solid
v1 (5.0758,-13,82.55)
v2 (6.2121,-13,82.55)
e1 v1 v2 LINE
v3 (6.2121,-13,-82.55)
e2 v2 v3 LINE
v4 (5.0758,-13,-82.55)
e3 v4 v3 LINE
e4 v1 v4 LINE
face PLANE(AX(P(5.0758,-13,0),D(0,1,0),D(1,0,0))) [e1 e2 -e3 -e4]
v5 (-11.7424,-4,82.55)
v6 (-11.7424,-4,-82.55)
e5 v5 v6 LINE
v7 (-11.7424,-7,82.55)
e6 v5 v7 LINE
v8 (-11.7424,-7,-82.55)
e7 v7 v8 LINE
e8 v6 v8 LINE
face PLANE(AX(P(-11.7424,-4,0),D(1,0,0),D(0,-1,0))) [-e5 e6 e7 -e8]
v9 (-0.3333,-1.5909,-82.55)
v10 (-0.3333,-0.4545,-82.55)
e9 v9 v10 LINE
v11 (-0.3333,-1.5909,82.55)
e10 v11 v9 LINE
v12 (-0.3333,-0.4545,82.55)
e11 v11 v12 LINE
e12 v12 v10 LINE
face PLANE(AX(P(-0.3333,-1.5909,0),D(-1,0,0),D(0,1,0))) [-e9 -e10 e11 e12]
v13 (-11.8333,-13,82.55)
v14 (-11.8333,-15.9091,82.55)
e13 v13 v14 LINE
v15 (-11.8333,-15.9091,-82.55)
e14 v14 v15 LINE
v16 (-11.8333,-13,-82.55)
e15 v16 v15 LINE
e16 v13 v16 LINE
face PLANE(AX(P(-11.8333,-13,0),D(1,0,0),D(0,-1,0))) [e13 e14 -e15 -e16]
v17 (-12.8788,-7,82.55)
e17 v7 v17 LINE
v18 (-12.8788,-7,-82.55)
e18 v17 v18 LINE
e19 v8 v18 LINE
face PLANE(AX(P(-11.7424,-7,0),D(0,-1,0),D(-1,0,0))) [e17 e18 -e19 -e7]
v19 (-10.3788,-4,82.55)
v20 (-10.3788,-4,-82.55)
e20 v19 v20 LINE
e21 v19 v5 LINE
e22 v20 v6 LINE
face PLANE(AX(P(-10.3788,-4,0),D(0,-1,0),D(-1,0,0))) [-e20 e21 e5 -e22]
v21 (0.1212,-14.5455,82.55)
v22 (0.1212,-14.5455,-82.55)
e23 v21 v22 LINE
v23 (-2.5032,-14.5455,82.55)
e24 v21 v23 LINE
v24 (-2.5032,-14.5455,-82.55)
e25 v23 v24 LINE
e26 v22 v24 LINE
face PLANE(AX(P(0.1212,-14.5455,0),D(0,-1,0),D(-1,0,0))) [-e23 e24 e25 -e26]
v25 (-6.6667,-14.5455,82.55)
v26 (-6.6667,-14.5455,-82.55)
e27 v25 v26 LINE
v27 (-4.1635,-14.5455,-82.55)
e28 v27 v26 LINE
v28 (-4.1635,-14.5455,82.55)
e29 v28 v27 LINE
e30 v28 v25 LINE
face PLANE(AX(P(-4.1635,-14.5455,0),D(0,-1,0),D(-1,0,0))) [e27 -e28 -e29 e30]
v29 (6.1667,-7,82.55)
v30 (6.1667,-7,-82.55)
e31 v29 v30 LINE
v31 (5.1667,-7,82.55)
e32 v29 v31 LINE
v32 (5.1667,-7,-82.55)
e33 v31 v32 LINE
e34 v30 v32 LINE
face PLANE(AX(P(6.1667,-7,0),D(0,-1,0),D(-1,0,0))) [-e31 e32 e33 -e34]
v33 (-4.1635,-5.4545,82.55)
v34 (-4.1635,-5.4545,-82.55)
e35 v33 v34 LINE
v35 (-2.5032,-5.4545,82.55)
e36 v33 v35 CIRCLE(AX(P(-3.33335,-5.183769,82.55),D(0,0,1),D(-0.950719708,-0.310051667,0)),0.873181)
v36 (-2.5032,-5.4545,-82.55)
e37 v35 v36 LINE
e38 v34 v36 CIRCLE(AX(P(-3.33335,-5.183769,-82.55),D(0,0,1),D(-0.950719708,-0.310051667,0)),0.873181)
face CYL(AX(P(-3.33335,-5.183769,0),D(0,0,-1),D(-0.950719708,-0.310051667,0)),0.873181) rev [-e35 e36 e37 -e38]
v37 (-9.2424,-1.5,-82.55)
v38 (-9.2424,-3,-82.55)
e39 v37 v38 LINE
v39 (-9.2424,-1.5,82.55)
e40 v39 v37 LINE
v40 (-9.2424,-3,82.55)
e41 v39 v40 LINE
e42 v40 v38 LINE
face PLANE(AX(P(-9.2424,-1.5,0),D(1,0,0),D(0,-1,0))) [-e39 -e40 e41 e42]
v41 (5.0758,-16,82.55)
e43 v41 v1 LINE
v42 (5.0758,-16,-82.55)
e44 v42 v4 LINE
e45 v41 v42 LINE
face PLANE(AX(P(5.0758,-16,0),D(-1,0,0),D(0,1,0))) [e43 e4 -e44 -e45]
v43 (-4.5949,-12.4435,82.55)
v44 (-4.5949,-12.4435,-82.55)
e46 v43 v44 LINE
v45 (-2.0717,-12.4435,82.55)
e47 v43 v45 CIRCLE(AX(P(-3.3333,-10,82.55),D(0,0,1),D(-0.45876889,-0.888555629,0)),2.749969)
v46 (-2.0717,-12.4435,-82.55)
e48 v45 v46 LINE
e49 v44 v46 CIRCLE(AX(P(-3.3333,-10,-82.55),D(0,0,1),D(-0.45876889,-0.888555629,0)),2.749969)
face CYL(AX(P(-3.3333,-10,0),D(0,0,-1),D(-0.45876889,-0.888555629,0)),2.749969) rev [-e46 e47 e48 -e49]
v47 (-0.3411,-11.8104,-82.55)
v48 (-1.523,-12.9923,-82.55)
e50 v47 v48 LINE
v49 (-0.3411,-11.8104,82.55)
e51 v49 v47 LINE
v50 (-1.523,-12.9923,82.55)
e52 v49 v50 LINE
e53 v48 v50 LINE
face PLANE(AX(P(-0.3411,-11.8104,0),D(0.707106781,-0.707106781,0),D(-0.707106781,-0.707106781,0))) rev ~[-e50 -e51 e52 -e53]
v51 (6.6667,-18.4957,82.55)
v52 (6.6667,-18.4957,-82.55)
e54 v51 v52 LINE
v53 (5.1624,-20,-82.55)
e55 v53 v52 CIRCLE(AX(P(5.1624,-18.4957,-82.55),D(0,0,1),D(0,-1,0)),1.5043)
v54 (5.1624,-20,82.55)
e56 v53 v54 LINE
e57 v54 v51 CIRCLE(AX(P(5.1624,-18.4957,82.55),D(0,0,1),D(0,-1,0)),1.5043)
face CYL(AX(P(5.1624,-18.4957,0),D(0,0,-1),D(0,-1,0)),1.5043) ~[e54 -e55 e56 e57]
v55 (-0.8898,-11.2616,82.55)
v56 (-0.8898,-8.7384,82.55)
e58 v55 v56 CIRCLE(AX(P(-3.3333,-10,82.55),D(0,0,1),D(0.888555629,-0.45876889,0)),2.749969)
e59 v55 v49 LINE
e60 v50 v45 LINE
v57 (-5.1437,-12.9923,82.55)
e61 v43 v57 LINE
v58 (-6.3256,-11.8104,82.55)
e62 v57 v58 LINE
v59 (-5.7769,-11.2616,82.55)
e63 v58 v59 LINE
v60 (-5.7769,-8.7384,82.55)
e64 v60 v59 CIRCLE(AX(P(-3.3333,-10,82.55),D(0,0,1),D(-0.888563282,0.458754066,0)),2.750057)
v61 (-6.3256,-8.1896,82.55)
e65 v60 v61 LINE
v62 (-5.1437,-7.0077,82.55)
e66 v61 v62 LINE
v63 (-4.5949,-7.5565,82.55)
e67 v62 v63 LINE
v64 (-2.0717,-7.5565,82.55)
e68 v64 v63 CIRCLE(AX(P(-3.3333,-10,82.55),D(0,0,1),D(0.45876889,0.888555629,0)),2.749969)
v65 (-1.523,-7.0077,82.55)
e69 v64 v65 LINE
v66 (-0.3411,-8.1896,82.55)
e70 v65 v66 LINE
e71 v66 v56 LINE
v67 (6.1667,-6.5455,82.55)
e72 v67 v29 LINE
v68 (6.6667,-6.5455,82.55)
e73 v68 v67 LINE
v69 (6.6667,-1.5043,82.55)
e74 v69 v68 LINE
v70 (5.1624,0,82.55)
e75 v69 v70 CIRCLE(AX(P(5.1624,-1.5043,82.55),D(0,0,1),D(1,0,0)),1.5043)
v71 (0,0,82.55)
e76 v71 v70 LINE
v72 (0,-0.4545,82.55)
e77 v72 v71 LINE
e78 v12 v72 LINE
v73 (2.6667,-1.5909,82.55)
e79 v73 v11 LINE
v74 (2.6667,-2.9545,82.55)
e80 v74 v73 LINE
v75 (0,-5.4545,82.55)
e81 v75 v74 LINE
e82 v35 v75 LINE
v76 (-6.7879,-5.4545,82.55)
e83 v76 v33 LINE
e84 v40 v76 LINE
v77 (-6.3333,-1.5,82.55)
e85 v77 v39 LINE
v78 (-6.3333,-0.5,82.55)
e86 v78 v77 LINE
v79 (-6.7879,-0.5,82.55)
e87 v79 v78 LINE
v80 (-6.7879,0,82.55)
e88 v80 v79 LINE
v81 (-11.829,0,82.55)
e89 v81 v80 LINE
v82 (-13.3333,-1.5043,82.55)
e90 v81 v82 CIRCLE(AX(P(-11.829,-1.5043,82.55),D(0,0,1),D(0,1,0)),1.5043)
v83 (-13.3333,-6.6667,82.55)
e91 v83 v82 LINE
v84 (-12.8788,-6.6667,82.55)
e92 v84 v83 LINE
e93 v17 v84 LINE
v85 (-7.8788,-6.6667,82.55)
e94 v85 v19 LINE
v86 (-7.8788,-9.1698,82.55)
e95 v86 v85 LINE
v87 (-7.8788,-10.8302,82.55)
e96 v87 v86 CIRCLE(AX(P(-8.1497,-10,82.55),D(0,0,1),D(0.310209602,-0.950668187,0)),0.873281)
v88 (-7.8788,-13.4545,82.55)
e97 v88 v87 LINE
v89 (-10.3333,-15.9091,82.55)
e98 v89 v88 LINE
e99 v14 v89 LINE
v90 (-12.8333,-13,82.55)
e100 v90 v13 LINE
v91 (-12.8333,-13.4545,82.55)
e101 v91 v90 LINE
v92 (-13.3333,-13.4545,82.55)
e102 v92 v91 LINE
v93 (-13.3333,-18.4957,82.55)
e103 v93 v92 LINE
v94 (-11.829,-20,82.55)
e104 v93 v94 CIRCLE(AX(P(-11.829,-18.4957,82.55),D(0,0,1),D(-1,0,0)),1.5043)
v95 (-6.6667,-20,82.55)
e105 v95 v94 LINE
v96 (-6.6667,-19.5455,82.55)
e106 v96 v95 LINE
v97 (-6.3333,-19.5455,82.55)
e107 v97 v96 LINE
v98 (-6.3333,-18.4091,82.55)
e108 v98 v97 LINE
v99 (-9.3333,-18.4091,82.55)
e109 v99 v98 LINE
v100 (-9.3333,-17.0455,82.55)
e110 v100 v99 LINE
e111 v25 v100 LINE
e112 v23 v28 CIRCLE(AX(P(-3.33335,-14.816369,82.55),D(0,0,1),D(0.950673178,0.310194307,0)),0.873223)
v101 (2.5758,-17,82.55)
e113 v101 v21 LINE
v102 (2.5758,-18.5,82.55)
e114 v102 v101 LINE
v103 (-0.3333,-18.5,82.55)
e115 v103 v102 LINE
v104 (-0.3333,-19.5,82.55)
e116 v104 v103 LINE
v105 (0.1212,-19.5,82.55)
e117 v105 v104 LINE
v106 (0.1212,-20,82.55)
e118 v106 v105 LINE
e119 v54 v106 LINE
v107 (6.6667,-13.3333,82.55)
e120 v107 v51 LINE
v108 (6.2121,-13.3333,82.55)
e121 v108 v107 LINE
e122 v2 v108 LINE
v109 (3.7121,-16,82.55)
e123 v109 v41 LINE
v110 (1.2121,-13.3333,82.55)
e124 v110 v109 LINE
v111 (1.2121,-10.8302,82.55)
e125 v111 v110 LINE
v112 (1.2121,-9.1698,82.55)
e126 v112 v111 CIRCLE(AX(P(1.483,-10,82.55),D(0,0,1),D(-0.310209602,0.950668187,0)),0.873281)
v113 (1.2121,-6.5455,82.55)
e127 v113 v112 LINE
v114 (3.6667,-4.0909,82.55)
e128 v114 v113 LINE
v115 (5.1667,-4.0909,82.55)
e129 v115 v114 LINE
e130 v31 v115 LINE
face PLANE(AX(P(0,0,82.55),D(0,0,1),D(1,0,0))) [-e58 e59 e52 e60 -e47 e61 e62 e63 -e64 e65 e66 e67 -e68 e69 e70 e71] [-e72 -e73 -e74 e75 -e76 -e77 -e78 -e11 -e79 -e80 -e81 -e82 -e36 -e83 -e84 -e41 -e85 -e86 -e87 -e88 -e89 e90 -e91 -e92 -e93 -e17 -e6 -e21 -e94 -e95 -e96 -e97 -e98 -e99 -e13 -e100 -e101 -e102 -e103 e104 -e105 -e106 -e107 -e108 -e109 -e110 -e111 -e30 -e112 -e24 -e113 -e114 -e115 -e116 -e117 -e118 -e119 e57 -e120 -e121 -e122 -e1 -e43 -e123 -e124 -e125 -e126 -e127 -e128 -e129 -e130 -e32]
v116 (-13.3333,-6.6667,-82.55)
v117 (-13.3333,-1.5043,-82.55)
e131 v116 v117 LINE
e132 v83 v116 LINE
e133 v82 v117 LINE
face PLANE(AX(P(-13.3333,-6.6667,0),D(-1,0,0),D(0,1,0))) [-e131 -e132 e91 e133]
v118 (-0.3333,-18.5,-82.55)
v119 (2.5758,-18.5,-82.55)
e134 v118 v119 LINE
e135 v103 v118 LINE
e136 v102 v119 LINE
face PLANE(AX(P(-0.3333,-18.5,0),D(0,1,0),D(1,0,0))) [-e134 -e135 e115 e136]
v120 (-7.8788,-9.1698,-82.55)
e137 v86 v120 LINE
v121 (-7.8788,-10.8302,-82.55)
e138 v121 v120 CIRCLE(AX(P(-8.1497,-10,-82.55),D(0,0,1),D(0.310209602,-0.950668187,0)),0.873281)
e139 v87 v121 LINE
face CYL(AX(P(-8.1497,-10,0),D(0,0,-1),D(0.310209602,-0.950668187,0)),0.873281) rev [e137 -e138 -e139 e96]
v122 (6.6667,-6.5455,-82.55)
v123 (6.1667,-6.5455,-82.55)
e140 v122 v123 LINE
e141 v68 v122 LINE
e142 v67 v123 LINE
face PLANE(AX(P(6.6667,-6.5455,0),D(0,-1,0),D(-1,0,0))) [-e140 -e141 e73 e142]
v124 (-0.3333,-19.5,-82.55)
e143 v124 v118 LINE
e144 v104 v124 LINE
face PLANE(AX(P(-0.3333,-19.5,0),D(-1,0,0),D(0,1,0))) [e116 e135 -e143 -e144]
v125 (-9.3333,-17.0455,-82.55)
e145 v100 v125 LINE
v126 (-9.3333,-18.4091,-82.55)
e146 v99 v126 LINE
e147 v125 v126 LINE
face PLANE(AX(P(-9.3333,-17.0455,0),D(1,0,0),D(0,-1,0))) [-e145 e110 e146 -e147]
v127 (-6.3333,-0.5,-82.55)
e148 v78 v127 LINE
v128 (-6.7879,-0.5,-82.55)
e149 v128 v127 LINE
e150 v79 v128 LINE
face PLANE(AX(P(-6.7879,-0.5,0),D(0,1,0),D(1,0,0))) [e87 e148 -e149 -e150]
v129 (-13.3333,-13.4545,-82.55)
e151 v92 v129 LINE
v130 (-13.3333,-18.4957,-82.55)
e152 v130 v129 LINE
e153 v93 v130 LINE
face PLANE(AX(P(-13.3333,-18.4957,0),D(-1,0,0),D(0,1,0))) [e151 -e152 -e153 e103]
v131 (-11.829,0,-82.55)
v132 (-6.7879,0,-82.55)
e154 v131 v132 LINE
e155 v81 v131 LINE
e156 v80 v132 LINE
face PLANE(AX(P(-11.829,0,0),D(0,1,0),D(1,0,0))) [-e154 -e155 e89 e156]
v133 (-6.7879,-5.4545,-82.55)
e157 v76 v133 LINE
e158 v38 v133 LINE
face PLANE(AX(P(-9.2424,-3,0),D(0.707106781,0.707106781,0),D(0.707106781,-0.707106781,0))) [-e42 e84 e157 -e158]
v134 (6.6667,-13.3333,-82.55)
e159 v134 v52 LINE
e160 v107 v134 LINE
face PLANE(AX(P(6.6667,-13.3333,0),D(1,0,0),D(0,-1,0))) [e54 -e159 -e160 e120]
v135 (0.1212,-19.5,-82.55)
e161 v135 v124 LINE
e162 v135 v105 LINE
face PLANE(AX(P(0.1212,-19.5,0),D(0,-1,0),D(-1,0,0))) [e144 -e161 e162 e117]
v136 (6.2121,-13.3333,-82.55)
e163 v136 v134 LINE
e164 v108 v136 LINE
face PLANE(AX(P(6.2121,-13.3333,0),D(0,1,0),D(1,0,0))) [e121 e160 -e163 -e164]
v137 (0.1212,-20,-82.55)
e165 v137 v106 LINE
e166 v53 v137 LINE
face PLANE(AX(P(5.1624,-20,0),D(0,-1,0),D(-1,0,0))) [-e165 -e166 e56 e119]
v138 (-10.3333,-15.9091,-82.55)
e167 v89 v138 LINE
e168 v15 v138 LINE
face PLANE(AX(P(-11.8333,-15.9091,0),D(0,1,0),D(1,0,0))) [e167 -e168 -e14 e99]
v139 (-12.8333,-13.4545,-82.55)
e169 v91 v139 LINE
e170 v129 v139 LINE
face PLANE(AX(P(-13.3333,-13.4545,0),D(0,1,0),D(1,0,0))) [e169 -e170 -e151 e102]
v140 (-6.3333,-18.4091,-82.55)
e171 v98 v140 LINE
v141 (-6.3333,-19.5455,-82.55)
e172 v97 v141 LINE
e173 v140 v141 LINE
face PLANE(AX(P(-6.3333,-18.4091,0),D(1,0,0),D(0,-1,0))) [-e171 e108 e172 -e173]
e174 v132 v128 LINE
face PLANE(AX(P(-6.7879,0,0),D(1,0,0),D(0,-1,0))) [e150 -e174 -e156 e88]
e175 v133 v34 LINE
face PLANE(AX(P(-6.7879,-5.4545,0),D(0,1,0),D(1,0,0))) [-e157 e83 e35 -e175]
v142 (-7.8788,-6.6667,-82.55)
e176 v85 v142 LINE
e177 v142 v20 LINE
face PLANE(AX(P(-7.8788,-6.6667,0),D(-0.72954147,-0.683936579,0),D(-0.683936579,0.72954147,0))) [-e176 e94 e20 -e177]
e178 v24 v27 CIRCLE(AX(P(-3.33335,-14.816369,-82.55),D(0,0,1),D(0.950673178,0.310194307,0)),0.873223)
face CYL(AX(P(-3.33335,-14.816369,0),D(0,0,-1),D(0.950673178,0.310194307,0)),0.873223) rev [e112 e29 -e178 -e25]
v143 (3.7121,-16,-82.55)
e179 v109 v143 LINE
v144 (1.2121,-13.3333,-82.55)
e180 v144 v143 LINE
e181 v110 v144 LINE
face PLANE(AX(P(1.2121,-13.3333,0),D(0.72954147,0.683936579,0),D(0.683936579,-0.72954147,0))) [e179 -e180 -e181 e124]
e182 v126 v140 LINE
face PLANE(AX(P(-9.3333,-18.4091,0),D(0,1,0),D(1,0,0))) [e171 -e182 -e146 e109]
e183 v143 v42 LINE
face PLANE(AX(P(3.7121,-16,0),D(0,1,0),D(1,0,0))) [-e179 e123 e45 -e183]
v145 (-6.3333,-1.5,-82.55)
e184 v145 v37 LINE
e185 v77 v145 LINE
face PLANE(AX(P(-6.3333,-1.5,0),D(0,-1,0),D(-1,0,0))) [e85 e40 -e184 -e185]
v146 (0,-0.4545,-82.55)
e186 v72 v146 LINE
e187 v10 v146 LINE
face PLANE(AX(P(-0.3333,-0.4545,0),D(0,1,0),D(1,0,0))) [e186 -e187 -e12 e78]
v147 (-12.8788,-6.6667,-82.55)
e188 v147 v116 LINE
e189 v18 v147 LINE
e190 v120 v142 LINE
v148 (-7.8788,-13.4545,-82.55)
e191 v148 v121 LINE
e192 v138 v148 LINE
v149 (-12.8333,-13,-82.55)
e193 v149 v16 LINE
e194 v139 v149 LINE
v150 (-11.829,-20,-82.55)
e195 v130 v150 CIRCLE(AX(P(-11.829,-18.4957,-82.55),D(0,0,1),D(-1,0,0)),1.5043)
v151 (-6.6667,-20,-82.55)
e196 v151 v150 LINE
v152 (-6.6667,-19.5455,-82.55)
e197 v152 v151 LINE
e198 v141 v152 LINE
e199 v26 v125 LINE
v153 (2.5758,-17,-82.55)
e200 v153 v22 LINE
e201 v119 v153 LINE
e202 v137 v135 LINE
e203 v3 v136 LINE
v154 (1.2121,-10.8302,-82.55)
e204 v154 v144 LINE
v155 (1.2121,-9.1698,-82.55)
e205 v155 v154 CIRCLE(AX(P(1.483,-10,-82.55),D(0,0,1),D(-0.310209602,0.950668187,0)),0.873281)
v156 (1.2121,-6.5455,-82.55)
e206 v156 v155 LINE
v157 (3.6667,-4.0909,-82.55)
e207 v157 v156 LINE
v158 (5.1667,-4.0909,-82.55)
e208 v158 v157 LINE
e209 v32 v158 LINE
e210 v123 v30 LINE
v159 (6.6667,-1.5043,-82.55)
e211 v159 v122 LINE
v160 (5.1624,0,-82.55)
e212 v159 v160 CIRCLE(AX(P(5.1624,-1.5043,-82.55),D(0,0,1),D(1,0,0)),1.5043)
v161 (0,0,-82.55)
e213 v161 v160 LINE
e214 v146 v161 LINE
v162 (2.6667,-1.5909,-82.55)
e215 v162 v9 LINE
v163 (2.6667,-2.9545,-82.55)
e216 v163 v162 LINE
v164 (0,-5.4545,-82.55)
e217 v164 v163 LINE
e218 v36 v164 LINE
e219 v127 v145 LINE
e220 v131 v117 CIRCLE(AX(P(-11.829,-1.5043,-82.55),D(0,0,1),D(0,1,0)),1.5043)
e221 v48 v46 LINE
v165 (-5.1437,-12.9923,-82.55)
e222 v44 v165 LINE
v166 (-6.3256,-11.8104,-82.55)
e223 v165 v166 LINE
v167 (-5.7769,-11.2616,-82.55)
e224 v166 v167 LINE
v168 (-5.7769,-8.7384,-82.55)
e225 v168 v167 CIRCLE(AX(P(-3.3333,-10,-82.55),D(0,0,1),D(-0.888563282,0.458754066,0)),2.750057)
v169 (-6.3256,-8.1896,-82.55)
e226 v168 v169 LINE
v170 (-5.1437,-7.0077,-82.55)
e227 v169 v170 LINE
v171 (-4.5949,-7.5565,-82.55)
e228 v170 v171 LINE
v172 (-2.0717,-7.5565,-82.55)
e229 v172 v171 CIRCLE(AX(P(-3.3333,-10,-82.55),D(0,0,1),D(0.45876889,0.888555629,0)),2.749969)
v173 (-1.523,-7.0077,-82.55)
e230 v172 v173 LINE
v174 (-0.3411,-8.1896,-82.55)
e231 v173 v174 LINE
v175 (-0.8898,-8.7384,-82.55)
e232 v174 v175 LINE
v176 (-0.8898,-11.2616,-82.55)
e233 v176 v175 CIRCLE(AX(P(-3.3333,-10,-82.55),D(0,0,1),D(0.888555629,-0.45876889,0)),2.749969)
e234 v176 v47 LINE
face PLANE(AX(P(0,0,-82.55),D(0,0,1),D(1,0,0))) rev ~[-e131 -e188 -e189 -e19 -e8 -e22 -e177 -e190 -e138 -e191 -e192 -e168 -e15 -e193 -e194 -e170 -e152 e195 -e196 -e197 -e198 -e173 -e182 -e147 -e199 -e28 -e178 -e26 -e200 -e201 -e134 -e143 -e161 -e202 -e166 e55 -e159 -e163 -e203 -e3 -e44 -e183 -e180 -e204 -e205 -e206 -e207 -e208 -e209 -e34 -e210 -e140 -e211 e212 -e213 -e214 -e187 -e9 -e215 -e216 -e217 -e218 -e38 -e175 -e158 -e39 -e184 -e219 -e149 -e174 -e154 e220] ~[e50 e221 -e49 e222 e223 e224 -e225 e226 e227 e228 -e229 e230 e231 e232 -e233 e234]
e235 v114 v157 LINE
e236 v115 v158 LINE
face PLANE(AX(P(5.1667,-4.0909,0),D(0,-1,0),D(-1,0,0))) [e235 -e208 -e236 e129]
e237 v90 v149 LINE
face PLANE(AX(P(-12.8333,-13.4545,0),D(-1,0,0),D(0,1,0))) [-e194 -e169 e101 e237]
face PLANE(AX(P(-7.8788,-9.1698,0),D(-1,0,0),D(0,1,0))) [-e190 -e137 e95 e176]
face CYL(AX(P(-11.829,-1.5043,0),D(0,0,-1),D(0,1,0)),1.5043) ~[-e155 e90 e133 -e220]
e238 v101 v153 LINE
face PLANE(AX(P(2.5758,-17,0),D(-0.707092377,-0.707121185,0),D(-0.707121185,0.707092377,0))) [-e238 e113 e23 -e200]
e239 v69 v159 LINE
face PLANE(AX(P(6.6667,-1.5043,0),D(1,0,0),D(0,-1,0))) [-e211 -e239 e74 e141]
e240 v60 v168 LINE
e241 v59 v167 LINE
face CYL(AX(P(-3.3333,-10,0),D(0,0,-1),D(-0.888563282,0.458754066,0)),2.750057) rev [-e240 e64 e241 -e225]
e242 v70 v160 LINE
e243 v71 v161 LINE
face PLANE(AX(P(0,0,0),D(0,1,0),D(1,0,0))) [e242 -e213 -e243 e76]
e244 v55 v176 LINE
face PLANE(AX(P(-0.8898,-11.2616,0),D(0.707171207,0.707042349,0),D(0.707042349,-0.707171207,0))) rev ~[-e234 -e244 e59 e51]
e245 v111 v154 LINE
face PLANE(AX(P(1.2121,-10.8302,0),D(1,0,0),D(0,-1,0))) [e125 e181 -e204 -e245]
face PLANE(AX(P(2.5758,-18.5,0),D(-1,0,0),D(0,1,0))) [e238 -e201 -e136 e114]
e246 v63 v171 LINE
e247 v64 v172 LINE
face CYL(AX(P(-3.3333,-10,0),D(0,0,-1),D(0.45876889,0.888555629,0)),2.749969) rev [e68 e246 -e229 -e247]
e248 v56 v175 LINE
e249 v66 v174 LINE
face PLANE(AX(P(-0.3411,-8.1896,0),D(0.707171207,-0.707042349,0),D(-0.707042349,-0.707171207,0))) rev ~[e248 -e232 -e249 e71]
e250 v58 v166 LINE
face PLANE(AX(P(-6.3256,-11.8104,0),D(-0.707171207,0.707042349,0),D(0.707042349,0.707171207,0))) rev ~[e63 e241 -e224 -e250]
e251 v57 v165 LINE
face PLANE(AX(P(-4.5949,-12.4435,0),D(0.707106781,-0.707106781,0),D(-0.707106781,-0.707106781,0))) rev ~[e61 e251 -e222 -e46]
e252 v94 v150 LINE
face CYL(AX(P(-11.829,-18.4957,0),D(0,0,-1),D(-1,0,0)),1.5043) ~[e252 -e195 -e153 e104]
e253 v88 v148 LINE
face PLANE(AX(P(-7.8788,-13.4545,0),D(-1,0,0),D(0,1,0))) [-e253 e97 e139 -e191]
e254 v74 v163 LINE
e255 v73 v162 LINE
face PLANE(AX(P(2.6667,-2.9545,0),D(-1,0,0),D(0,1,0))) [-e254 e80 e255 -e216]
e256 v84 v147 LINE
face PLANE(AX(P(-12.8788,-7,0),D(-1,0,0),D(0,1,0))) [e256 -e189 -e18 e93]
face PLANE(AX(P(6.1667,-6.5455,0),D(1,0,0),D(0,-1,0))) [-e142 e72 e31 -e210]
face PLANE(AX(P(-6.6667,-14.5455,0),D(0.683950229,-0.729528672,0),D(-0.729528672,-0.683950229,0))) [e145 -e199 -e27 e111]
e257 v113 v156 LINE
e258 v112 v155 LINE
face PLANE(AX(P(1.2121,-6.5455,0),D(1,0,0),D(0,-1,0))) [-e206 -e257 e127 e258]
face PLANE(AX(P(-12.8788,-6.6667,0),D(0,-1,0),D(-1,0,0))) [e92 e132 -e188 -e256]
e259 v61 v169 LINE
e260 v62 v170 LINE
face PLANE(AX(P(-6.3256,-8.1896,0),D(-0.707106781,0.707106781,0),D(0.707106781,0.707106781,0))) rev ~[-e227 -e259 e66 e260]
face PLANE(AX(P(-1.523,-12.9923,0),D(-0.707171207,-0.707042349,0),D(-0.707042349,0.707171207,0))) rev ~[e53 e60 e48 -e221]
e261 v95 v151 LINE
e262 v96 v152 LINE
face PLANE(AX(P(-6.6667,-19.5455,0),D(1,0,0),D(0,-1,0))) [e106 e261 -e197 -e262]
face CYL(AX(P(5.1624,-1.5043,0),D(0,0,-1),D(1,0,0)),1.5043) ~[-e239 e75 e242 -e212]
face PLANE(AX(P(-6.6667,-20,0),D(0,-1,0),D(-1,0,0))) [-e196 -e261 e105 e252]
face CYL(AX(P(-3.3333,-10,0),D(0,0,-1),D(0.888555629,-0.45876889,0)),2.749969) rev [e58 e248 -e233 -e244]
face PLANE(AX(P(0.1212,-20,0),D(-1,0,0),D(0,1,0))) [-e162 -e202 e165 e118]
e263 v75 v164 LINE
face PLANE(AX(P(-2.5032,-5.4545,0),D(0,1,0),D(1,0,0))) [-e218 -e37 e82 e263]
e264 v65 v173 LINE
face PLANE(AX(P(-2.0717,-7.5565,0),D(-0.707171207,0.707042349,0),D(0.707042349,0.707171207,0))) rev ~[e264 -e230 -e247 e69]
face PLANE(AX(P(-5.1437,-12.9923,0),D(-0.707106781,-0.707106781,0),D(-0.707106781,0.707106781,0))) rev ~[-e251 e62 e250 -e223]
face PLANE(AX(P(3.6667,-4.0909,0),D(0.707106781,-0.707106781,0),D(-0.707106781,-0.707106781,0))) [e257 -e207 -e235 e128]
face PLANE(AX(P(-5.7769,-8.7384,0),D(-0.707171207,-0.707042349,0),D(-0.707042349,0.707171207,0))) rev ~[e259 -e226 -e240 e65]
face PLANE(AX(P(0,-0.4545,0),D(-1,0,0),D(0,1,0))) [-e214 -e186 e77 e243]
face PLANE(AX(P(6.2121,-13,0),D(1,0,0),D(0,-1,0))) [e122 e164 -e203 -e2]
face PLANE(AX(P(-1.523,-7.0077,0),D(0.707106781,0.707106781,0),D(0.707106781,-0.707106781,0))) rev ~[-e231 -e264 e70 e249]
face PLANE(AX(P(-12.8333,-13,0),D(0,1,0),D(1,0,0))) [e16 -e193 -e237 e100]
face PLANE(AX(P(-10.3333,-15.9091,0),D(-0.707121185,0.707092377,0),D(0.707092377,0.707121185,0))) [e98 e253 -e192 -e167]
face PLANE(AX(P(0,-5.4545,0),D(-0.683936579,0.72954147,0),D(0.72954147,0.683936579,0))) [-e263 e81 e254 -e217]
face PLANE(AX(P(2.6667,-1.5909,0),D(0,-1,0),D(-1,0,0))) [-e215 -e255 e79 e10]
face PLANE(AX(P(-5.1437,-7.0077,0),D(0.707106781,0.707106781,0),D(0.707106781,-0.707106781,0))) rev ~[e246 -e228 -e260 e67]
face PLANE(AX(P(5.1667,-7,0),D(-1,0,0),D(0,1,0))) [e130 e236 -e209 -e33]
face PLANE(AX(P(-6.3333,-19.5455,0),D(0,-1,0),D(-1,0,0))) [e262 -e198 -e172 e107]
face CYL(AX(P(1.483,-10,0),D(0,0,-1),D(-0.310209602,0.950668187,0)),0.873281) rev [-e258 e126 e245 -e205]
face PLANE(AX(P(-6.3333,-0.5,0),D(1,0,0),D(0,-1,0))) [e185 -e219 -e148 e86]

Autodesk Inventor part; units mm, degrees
ref_plane "YZ Plane" through (0, 0, 0) normal (1, 0, 0) x (0, 1, 0)
ref_plane "XZ Plane" through (0, 0, 0) normal (0, 1, 0) x (-1, 0, 0)
sketch "Sketch1" plane through (0, 0, 0) normal (0, 0, 1) x (1, 0, 0)
  line L0 (0.1212, -19.5) -> (-0.3333, -19.5)
  line L1 (0.1212, -20) -> (0.1212, -19.5)
  line L2 (5.1624, -20) -> (0.1212, -20)
  arc A0 (5.1624, -20) -> (6.6667, -18.4957) centre (5.1624, -18.4957) ccw
  line L3 (6.6667, -13.3333) -> (6.6667, -18.4957)
  line L4 (6.2121, -13.3333) -> (6.6667, -13.3333)
  line L5 (6.2121, -13) -> (6.2121, -13.3333)
  line L6 (5.0758, -13) -> (6.2121, -13)
  line L7 (5.0758, -16) -> (5.0758, -13)
  line L8 (3.7121, -16) -> (5.0758, -16)
  line L9 (1.2121, -13.3333) -> (3.7121, -16)
  line L10 (1.2121, -10.8302) -> (1.2121, -13.3333)
  arc A1 (1.2121, -9.1698) -> (1.2121, -10.8302) centre (1.483, -10) ccw
  line L11 (1.2121, -6.5455) -> (1.2121, -9.1698)
  line L12 (3.6667, -4.0909) -> (1.2121, -6.5455)
  line L13 (5.1667, -4.0909) -> (3.6667, -4.0909)
  line L14 (5.1667, -7) -> (5.1667, -4.0909)
  line L15 (6.1667, -7) -> (5.1667, -7)
  line L16 (6.1667, -6.5455) -> (6.1667, -7)
  line L17 (6.6667, -6.5455) -> (6.1667, -6.5455)
  line L18 (6.6667, -1.5043) -> (6.6667, -6.5455)
  arc A2 (6.6667, -1.5043) -> (5.1624, 0) centre (5.1624, -1.5043) ccw
  line L19 (0, 0) -> (5.1624, 0)
  line L20 (0, -0.4545) -> (0, 0)
  line L21 (-0.3333, -0.4545) -> (0, -0.4545)
  line L22 (-0.3333, -1.5909) -> (-0.3333, -0.4545)
  line L23 (2.6667, -1.5909) -> (-0.3333, -1.5909)
  line L24 (2.6667, -2.9545) -> (2.6667, -1.5909)
  line L25 (0, -5.4545) -> (2.6667, -2.9545)
  line L26 (-2.5032, -5.4545) -> (0, -5.4545)
  arc A3 (-4.1635, -5.4545) -> (-2.5032, -5.4545) centre (-3.3333, -5.1837) ccw
  line L27 (-6.7879, -5.4545) -> (-4.1635, -5.4545)
  line L28 (-9.2424, -3) -> (-6.7879, -5.4545)
  line L29 (-9.2424, -1.5) -> (-9.2424, -3)
  line L30 (-6.3333, -1.5) -> (-9.2424, -1.5)
  line L31 (-6.3333, -0.5) -> (-6.3333, -1.5)
  line L32 (-6.7879, -0.5) -> (-6.3333, -0.5)
  line L33 (-6.7879, 0) -> (-6.7879, -0.5)
  line L34 (-11.829, 0) -> (-6.7879, 0)
  arc A4 (-11.829, 0) -> (-13.3333, -1.5043) centre (-11.829, -1.5043) ccw
  line L35 (-13.3333, -6.6667) -> (-13.3333, -1.5043)
  line L36 (-12.8788, -6.6667) -> (-13.3333, -6.6667)
  line L37 (-12.8788, -7) -> (-12.8788, -6.6667)
  line L38 (-11.7424, -7) -> (-12.8788, -7)
  line L39 (-11.7424, -4) -> (-11.7424, -7)
  line L40 (-10.3788, -4) -> (-11.7424, -4)
  line L41 (-7.8788, -6.6667) -> (-10.3788, -4)
  line L42 (-7.8788, -9.1698) -> (-7.8788, -6.6667)
  arc A5 (-7.8788, -10.8302) -> (-7.8788, -9.1698) centre (-8.1497, -10) ccw
  line L43 (-7.8788, -13.4545) -> (-7.8788, -10.8302)
  line L44 (-10.3333, -15.9091) -> (-7.8788, -13.4545)
  line L45 (-11.8333, -15.9091) -> (-10.3333, -15.9091)
  line L46 (-11.8333, -13) -> (-11.8333, -15.9091)
  line L47 (-12.8333, -13) -> (-11.8333, -13)
  line L48 (-12.8333, -13.4545) -> (-12.8333, -13)
  line L49 (-13.3333, -13.4545) -> (-12.8333, -13.4545)
  line L50 (-13.3333, -18.4957) -> (-13.3333, -13.4545)
  arc A6 (-13.3333, -18.4957) -> (-11.829, -20) centre (-11.829, -18.4957) ccw
  line L51 (-6.6667, -20) -> (-11.829, -20)
  line L52 (-6.6667, -19.5455) -> (-6.6667, -20)
  line L53 (-6.3333, -19.5455) -> (-6.6667, -19.5455)
  line L54 (-6.3333, -18.4091) -> (-6.3333, -19.5455)
  line L55 (-9.3333, -18.4091) -> (-6.3333, -18.4091)
  line L56 (-9.3333, -17.0455) -> (-9.3333, -18.4091)
  line L57 (-6.6667, -14.5455) -> (-9.3333, -17.0455)
  line L58 (-4.1635, -14.5455) -> (-6.6667, -14.5455)
  arc A7 (-2.5032, -14.5455) -> (-4.1635, -14.5455) centre (-3.3333, -14.8163) ccw
  line L59 (0.1212, -14.5455) -> (-2.5032, -14.5455)
  line L60 (2.5758, -17) -> (0.1212, -14.5455)
  line L61 (2.5758, -18.5) -> (2.5758, -17)
  line L62 (-0.3333, -18.5) -> (2.5758, -18.5)
  line L63 (-0.3333, -19.5) -> (-0.3333, -18.5)
  line L64 (-1.523, -12.9923) -> (-2.0717, -12.4435)
  arc A8 (-4.5949, -12.4435) -> (-2.0717, -12.4435) centre (-3.3333, -10) ccw
  line L65 (-4.5949, -12.4435) -> (-5.1437, -12.9923)
  line L66 (-5.1437, -12.9923) -> (-6.3256, -11.8104)
  line L67 (-6.3256, -11.8104) -> (-5.7769, -11.2616)
  arc A9 (-5.7769, -8.7384) -> (-5.7769, -11.2616) centre (-3.3333, -10) ccw
  line L68 (-5.7769, -8.7384) -> (-6.3256, -8.1896)
  line L69 (-6.3256, -8.1896) -> (-5.1437, -7.0077)
  line L70 (-5.1437, -7.0077) -> (-4.5949, -7.5565)
  arc A10 (-2.0717, -7.5565) -> (-4.5949, -7.5565) centre (-3.3333, -10) ccw
  line L71 (-2.0717, -7.5565) -> (-1.523, -7.0077)
  line L72 (-1.523, -7.0077) -> (-0.3411, -8.1896)
  line L73 (-0.3411, -8.1896) -> (-0.8898, -8.7384)
  arc A11 (-0.8898, -11.2616) -> (-0.8898, -8.7384) centre (-3.3333, -10) ccw
  line L74 (-0.8898, -11.2616) -> (-0.3411, -11.8104)
  line L75 (-0.3411, -11.8104) -> (-1.523, -12.9923)
  point P0 (-13.3333, -20)
extrude "Extrusion1" add sketch "Sketch1" along normal mid plane 165.1
ref_plane "Work Plane1" through (0, 0, 0) normal (0, 0, 1) x (1, 0, 0)
properties part number "Lift Connector"
